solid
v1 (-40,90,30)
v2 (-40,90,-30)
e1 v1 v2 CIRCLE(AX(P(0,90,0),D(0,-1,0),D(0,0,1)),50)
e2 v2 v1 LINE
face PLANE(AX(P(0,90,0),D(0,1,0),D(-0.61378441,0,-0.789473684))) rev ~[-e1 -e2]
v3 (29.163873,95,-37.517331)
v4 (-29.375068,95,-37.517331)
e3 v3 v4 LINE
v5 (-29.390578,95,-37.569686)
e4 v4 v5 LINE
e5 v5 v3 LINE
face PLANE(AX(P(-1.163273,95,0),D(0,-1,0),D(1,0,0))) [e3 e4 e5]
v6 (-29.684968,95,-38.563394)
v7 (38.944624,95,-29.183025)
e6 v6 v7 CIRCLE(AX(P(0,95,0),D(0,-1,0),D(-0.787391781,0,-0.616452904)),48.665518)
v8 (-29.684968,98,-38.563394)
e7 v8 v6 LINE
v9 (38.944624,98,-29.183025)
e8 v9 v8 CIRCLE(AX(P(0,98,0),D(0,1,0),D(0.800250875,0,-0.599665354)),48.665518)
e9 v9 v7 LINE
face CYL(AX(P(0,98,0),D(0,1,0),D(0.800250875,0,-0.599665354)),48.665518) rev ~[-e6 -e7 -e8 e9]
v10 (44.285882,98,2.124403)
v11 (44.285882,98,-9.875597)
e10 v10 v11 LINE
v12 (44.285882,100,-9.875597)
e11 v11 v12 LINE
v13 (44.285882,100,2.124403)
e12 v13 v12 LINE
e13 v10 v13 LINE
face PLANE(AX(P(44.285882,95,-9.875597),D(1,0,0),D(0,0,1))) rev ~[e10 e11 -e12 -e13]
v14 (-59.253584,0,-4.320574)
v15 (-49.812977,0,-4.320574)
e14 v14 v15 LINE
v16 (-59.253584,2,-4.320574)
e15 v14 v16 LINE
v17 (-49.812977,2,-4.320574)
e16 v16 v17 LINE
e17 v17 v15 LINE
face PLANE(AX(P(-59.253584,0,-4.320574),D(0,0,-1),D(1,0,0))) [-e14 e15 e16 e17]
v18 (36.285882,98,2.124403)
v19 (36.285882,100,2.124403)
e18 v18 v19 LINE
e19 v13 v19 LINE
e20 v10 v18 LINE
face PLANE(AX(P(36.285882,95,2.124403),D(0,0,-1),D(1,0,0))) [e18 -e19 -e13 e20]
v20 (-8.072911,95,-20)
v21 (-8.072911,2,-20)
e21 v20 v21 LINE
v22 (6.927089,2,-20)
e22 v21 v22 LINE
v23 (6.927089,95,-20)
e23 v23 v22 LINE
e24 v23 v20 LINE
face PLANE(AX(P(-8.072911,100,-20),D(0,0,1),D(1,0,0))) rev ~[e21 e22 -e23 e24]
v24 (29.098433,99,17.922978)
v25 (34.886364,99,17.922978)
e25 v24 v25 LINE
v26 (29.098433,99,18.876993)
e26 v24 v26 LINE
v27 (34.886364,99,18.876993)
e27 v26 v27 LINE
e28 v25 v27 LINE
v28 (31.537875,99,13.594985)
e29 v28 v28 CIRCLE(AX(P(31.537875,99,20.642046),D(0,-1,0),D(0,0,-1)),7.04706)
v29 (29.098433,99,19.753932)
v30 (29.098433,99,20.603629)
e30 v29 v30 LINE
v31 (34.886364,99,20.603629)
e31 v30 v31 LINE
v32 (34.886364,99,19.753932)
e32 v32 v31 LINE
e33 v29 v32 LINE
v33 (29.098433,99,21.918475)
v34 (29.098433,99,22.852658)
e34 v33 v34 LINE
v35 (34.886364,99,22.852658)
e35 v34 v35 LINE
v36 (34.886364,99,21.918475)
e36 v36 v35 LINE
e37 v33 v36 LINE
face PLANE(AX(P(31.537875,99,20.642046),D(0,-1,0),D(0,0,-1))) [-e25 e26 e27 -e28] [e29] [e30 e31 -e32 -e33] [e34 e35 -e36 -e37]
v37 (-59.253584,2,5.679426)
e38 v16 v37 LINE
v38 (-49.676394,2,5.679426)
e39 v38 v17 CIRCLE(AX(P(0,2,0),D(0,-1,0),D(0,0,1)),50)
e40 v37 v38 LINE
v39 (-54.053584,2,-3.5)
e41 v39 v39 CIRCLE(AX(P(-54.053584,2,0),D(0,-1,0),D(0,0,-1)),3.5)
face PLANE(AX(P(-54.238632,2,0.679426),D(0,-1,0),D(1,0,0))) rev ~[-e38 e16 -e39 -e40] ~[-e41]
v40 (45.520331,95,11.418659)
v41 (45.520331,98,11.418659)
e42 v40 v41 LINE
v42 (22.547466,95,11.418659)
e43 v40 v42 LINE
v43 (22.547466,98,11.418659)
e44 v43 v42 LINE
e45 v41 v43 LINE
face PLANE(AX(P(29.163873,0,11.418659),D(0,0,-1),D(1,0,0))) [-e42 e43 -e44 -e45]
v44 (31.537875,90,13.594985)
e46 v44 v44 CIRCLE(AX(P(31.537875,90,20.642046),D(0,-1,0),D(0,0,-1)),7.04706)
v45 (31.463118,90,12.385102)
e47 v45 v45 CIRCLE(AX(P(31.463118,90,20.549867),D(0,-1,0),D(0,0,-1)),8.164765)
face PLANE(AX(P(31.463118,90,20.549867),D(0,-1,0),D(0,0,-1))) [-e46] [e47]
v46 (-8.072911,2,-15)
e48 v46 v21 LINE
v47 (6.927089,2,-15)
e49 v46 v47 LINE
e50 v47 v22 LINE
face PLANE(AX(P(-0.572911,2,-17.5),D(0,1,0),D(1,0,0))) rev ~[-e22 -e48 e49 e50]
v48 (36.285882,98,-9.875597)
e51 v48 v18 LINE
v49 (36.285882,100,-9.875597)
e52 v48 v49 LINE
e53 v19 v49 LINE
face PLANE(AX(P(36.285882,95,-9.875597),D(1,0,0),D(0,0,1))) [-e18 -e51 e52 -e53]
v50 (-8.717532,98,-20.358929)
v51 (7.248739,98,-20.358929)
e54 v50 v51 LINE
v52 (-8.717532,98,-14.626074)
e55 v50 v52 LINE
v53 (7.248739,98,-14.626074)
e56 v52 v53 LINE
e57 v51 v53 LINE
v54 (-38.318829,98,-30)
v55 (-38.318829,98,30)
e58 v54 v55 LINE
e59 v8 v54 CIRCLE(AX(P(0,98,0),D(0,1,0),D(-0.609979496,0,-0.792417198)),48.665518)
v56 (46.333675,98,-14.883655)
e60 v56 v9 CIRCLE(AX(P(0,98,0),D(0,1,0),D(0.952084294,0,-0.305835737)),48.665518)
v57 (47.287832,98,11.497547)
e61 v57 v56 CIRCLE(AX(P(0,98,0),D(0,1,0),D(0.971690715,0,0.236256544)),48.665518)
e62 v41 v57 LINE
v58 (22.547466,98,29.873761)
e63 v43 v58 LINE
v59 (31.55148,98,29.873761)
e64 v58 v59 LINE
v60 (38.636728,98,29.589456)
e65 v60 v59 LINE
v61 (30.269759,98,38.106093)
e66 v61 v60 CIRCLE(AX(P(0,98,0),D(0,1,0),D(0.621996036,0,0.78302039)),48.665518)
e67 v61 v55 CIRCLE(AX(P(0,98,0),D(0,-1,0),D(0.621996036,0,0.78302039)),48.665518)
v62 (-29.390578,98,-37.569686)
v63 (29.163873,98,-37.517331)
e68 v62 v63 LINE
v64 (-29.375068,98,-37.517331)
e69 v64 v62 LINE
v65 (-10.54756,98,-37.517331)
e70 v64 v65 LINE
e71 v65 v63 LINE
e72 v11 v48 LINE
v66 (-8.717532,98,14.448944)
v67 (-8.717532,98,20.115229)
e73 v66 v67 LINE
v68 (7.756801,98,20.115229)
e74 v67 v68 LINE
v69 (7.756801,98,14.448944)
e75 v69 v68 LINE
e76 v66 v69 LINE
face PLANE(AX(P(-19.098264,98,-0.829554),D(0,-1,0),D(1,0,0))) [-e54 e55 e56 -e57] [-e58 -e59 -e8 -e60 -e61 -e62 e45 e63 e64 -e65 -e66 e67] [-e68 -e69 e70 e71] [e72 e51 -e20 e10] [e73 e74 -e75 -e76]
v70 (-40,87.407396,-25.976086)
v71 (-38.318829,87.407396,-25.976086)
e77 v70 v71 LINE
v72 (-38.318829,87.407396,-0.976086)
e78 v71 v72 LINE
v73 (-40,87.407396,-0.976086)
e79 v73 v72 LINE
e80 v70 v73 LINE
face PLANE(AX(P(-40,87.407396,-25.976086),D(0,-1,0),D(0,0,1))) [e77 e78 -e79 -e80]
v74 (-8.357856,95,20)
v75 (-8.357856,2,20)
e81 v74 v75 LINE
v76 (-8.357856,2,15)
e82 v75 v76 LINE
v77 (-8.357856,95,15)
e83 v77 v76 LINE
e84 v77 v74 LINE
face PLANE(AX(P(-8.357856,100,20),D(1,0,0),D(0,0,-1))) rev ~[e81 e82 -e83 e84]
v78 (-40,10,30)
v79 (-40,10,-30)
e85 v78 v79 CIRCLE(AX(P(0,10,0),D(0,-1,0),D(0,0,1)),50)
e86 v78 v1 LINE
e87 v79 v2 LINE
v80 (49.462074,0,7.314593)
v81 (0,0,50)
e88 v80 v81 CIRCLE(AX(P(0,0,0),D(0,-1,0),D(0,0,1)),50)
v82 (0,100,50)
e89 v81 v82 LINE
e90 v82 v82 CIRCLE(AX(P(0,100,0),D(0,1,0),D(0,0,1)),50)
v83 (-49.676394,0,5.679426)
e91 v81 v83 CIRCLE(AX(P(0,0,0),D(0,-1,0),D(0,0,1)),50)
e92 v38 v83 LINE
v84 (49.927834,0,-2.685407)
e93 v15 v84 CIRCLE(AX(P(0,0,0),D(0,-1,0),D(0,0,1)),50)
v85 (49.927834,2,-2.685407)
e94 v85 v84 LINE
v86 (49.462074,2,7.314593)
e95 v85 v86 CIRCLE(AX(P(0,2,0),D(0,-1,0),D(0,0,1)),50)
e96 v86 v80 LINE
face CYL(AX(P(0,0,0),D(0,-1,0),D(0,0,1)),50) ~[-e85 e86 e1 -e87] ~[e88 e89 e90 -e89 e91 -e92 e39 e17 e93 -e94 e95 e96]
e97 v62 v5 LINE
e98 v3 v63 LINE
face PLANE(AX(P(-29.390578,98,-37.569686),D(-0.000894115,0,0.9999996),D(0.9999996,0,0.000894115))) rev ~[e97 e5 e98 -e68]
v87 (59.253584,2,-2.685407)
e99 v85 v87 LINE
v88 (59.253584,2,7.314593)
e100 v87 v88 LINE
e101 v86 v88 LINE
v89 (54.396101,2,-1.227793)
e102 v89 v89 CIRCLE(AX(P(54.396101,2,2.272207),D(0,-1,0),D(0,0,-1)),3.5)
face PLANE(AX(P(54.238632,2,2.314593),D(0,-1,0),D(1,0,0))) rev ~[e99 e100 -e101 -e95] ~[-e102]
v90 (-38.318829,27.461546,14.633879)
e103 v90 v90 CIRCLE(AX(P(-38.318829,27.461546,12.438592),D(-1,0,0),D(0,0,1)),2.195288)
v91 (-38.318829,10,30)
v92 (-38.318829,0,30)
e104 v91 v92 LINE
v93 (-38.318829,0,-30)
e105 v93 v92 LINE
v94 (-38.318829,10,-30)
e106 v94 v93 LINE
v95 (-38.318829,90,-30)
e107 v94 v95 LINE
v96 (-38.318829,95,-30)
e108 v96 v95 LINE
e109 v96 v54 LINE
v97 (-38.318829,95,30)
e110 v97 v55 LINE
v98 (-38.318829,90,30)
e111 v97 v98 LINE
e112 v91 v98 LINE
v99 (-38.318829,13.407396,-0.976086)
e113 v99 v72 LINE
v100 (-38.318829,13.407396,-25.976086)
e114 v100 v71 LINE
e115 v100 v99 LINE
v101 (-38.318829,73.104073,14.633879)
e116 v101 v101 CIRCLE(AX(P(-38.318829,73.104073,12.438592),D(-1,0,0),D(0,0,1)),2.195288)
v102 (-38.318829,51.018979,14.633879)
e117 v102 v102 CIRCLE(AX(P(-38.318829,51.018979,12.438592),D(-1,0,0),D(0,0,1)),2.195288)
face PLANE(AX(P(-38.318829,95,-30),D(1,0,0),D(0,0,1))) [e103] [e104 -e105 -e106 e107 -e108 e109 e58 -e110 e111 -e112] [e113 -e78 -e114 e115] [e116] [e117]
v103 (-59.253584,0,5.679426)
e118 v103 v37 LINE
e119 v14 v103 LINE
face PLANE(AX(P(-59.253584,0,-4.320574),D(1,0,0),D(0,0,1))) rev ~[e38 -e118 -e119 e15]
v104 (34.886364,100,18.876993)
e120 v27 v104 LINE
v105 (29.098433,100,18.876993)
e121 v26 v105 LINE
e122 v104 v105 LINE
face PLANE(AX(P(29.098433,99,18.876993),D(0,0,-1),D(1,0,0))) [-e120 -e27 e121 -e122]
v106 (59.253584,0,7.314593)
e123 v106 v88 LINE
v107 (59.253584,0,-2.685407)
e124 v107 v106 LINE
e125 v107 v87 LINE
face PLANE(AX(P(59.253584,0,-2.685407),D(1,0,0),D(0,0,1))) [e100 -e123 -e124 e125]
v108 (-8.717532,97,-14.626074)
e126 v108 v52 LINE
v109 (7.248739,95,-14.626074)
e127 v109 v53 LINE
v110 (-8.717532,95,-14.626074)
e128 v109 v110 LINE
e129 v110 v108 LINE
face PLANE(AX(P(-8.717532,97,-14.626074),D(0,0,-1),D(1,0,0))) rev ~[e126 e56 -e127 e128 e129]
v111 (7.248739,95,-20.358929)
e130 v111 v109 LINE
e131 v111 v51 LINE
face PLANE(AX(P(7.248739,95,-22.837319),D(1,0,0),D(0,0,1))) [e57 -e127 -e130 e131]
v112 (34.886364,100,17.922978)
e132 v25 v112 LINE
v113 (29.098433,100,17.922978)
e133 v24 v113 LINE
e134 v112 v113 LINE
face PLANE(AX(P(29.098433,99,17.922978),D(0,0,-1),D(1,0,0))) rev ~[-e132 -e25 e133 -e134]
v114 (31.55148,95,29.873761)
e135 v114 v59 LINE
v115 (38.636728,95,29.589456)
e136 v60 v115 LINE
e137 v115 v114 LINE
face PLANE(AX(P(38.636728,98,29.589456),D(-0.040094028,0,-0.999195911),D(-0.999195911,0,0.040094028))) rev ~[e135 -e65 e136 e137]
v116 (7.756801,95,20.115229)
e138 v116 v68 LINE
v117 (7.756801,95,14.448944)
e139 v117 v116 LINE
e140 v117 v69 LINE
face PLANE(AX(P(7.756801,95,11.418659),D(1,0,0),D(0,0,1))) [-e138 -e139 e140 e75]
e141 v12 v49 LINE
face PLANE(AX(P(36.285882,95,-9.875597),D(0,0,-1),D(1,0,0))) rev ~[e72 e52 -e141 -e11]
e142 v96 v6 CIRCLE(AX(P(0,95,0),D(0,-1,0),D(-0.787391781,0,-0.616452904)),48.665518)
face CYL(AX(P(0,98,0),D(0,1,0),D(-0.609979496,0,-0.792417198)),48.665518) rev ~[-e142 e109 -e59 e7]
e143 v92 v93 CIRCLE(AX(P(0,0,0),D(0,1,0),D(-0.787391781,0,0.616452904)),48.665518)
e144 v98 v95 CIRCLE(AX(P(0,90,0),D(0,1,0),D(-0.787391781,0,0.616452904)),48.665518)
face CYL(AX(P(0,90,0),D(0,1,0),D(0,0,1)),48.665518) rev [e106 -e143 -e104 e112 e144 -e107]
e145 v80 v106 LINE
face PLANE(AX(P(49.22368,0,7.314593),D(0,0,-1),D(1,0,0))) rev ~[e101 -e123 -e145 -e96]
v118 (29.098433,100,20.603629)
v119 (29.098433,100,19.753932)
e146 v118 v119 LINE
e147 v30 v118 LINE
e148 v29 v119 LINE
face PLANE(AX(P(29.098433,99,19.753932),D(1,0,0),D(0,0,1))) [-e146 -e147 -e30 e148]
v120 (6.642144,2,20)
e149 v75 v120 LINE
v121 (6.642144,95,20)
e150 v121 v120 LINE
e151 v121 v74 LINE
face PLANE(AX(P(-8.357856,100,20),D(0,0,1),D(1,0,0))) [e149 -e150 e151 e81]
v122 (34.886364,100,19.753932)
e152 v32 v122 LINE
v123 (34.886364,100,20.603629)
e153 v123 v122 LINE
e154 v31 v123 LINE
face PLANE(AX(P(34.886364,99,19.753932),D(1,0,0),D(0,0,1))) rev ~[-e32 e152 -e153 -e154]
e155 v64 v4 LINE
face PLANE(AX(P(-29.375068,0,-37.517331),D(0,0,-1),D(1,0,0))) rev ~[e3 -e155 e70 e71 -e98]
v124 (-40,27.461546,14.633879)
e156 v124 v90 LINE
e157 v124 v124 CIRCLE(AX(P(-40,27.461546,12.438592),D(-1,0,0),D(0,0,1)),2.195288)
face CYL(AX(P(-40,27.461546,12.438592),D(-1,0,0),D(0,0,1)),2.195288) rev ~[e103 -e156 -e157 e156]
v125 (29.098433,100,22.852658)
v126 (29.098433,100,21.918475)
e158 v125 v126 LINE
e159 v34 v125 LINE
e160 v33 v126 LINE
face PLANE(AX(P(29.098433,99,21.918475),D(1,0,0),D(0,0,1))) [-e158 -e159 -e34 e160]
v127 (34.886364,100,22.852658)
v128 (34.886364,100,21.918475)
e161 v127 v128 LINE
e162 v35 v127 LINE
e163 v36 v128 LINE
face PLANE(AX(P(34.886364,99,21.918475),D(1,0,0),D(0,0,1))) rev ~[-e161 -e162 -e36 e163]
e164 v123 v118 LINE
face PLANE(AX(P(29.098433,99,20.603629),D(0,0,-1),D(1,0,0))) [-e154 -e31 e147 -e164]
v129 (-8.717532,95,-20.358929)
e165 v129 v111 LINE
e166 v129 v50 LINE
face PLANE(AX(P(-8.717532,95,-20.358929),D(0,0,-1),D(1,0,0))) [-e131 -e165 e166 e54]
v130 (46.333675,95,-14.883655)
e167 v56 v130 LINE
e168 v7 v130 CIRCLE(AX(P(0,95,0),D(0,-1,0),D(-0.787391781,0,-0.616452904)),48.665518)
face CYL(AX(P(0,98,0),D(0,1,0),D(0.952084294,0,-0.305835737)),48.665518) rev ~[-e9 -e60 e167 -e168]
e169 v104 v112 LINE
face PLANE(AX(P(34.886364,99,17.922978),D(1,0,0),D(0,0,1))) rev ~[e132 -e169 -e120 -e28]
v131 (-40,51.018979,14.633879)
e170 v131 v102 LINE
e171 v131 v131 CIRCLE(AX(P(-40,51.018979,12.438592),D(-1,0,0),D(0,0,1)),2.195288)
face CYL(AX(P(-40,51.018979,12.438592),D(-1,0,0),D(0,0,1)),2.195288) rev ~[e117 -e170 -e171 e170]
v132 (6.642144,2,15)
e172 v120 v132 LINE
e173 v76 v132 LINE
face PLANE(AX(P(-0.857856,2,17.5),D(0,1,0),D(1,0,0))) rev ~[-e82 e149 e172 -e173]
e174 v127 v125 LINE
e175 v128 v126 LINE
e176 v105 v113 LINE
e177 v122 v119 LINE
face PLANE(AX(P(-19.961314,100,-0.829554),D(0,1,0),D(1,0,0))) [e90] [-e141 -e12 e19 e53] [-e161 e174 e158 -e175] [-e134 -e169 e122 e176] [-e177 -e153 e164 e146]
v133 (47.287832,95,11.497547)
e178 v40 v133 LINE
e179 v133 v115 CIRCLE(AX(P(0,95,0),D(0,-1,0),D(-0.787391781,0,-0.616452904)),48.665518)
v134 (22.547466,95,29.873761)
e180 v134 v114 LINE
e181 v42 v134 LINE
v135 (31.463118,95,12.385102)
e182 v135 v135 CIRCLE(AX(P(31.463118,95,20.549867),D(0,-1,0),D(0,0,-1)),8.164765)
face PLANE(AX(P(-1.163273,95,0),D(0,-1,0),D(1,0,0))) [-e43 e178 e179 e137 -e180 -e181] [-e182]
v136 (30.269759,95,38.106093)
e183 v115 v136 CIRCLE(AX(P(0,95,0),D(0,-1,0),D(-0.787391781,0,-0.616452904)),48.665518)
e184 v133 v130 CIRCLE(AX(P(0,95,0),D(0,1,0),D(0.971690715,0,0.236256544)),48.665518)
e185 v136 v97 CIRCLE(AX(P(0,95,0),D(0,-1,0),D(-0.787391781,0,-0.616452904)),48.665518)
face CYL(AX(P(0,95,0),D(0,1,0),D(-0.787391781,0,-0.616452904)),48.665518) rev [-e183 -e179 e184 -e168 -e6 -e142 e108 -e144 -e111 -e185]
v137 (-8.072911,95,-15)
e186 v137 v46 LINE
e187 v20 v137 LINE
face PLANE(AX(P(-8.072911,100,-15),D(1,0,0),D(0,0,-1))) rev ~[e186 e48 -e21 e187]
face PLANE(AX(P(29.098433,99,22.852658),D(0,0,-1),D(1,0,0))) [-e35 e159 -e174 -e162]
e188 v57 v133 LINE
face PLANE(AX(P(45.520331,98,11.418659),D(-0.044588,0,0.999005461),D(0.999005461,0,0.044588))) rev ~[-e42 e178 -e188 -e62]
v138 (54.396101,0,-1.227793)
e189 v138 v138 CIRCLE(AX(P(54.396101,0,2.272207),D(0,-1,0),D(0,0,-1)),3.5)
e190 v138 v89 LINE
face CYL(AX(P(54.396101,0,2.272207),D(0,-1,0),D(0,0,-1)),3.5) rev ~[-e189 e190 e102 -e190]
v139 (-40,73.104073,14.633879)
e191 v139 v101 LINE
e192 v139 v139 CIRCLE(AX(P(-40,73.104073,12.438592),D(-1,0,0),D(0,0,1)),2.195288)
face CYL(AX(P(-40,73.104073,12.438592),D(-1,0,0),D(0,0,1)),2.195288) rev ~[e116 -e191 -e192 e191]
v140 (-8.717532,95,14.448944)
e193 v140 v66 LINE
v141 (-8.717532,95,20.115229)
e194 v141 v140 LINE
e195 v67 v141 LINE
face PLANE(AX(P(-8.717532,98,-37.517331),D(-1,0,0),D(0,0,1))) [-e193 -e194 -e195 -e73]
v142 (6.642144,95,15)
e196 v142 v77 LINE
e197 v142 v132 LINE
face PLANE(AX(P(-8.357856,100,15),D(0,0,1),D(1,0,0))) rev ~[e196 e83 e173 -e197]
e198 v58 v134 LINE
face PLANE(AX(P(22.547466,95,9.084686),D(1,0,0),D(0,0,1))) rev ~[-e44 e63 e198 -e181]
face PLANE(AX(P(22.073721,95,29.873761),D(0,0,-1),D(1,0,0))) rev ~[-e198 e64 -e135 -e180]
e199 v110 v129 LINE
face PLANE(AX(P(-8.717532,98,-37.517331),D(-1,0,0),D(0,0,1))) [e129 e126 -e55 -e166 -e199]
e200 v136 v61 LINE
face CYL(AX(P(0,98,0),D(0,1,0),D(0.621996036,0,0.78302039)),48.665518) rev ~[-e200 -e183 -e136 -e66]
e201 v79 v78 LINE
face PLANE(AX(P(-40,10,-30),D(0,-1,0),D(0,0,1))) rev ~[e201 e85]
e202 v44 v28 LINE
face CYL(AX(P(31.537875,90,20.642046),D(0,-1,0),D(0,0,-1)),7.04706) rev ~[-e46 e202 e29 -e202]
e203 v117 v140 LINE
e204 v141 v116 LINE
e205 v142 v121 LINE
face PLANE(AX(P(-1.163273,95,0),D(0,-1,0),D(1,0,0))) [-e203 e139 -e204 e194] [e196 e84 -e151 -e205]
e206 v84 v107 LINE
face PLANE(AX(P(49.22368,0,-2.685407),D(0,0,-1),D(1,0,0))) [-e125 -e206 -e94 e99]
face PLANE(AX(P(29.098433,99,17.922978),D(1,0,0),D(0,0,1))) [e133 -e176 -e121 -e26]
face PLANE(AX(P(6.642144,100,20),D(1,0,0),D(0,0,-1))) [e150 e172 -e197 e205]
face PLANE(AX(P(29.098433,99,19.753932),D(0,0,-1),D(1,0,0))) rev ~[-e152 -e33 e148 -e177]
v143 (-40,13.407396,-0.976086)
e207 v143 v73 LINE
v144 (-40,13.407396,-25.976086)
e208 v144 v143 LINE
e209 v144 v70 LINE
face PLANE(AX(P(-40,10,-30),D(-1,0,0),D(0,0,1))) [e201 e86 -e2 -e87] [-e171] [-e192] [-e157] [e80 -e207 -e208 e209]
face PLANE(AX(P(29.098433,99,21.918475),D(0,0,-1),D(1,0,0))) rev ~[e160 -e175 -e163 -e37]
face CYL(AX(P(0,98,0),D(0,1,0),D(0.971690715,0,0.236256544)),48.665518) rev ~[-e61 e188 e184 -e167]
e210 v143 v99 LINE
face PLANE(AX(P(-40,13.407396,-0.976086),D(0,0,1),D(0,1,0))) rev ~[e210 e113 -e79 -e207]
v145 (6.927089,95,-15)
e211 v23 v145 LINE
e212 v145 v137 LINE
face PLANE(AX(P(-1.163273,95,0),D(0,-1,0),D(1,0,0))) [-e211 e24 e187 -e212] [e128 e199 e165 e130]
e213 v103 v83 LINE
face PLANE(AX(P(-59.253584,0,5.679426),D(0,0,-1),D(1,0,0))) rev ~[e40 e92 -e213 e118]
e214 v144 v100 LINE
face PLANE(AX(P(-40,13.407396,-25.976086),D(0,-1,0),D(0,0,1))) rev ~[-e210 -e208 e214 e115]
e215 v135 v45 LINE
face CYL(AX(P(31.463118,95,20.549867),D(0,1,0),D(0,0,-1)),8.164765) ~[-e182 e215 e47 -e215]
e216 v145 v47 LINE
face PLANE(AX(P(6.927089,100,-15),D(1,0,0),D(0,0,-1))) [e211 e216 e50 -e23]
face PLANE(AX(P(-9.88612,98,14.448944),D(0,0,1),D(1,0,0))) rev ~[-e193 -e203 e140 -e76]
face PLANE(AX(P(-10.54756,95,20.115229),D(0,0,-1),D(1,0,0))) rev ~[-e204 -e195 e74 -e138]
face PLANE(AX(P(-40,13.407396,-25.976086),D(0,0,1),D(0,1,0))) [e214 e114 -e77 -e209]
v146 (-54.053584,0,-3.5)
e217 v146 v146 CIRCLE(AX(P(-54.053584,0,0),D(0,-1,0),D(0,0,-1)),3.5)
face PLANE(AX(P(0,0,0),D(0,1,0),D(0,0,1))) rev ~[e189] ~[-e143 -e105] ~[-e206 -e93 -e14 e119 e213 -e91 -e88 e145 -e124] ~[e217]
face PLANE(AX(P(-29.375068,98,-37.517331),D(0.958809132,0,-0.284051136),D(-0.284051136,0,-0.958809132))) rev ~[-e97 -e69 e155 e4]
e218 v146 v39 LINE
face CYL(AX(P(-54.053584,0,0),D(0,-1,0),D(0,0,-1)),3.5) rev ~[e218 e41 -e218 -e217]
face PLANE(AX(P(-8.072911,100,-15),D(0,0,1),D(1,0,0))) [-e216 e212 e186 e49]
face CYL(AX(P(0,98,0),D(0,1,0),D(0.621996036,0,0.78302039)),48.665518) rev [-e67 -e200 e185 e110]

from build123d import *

# Parameters (mm, degrees)
SKETCH2_R            = 50
BOSS_EXTRUDE1_DEPTH  = 100
SKETCH3_W            = 60
SKETCH3_H            = 80
CUT_EXTRUDE1_DEPTH   = 60
SKETCH4_W            = 60
SKETCH4_H            = 79.669831605
BOSS_EXTRUDE3_DEPTH  = 40
SKETCH5_R            = 38
CUT_EXTRUDE2_DEPTH   = 90
SKETCH8_W            = 60
SKETCH8_H            = 79.669831605
CUT_EXTRUDE7_DEPTH   = 50
SKETCH10_R           = 48.665518172
CUT_EXTRUDE9_DEPTH   = 100
SKETCH11_W           = 1.681170961
SKETCH11_H           = 60
BOSS_EXTRUDE5_DEPTH  = 80
SKETCH13_W           = 1.681170961
SKETCH13_H           = 60
BOSS_EXTRUDE7_DEPTH  = 10
BOSS_EXTRUDE8_DEPTH  = 10
CUT_EXTRUDE10_START  = -5
CUT_EXTRUDE10_DEPTH  = 5
SKETCH19_R           = 8.164764715
BOSS_EXTRUDE10_DEPTH = 5
SKETCH20_R           = 7.047060341
CUT_EXTRUDE11_DEPTH  = 9
SKETCH21_W           = 5.787931414
SKETCH21_H           = 0.934183286
SKETCH21_H_2         = 0.954014791
SKETCH21_H_3         = 0.849697664
CUT_EXTRUDE12_DEPTH  = 9
SKETCH23_R           = 2.195287673
SKETCH23_W           = 25
SKETCH23_H           = 74
CUT_EXTRUDE13_DEPTH  = 9
SKETCH24_W           = 15
SKETCH24_H           = 5
BOSS_EXTRUDE11_DEPTH = 98
SKETCH25_W           = 18.827507882
SKETCH25_H           = 73.375554396
CUT_EXTRUDE14_DEPTH  = 98
SKETCH26_W           = 18.827507882
SKETCH26_H           = 73.375554396
BOSS_EXTRUDE12_DEPTH = 1
SKETCH27_W           = 10.029903479
SKETCH27_H           = 10
BOSS_EXTRUDE13_DEPTH = 2
SKETCH28_R           = 3.5
CUT_EXTRUDE15_DEPTH  = 2
SKETCH29_W           = 58.538941248
SKETCH29_H           = 14.680012791
CUT_EXTRUDE16_DEPTH  = 98
SKETCH30_W           = 20.214113165
SKETCH30_H           = 34.255978035
CUT_EXTRUDE17_DEPTH  = 98
SKETCH33_W           = 8
SKETCH33_H           = 12
CUT_EXTRUDE19_DEPTH  = 98
SKETCH34_W           = 16.356457981
SKETCH34_H           = 26.077749045
CUT_EXTRUDE20_DEPTH  = 98
SKETCH35_W           = 19.445222932
SKETCH35_H           = 19.770916388
CUT_EXTRUDE21_DEPTH  = 10
SKETCH36_W           = 19.989215452
SKETCH36_H           = 72.827965385
CUT_EXTRUDE24_DEPTH  = 10
SKETCH37_W           = 31.787676572
SKETCH37_H           = 10.342401947
CUT_EXTRUDE26_DEPTH  = 10
SKETCH38_W           = 20.901341983
SKETCH38_H           = 4.203034319
SKETCH38_H_2         = 3.820046546
SKETCH38_W_2         = 30.533824488
SKETCH38_H_3         = 14.057901902
CUT_EXTRUDE32_DEPTH  = 2
SKETCH39_W           = 30.533824488
SKETCH39_H           = 14.057901902
CUT_EXTRUDE33_DEPTH  = 1
SKETCH40_W           = 20.553607572
SKETCH40_H           = 73.375554396
BOSS_EXTRUDE14_DEPTH = 1
SKETCH41_W           = 32.621281634
SKETCH41_H           = 15.74299434
CUT_EXTRUDE34_DEPTH  = 3
SKETCH42_W           = 14.144755604
SKETCH42_H           = 8.69656923
CUT_EXTRUDE35_DEPTH  = 3
SKETCH43_W           = 59.644827438
SKETCH43_H           = 2.247870114
CUT_EXTRUDE36_DEPTH  = 3
SKETCH44_W           = 17.667291541
SKETCH44_H           = 3.320818604
SKETCH44_W_2         = 14.753104975
SKETCH44_H_2         = 11.677562162
CUT_EXTRUDE38_DEPTH  = 3
SKETCH46_W           = 17.667291541
SKETCH46_H           = 3.320818604
CUT_EXTRUDE40_DEPTH  = 1
SKETCH47_W           = 1.701021163
SKETCH47_H           = 8.211244537
CUT_EXTRUDE41_DEPTH  = 3
SKETCH48_W           = 15.966270378
SKETCH48_H           = 2.478389594
CUT_EXTRUDE42_DEPTH  = 3
SKETCH49_W           = 10.473630753
SKETCH49_H           = 60
CUT_EXTRUDE43_DEPTH  = 3
CUT_EXTRUDE44_DEPTH  = 3
SKETCH51_W           = 3.315159192
SKETCH51_H           = 22.138520704
CUT_EXTRUDE45_DEPTH  = 3
CUT_EXTRUDE52_START  = -3
CUT_EXTRUDE52_DEPTH  = 3
CUT_EXTRUDE57_START  = -3
CUT_EXTRUDE57_DEPTH  = 3
CUT_EXTRUDE58_START  = -3
CUT_EXTRUDE58_DEPTH  = 3
CUT_EXTRUDE59_START  = -3
CUT_EXTRUDE59_DEPTH  = 3
CUT_EXTRUDE60_START  = -3
CUT_EXTRUDE60_DEPTH  = 3
SKETCH59_W           = 11.723658734
SKETCH59_H           = 19.471980535
CUT_EXTRUDE63_DEPTH  = 1
SKETCH60_W           = 11.417157191
SKETCH60_H           = 17.445400415
CUT_EXTRUDE65_DEPTH  = 3
CUT_EXTRUDE66_START  = -3
CUT_EXTRUDE66_DEPTH  = 3


with BuildPart() as part:
    # Sketch2 → Boss-Extrude1 (new body)
    with BuildSketch(Plane(origin=(0, 0, 0), x_dir=(1, 0, 0), z_dir=(0, 1, 0))):
        with Locations(Location((0, 0, 0), (0, 0, 270))):
            Circle(SKETCH2_R)
    extrude(amount=BOSS_EXTRUDE1_DEPTH)

    # Sketch3 → Cut-Extrude1 (cut)
    with BuildSketch(Plane(origin=(0, 0, 0), x_dir=(0, 0, -1), z_dir=(1, 0, 0))):
        with Locations((0, 50)):
            Rectangle(SKETCH3_W, SKETCH3_H)
    extrude(amount=-CUT_EXTRUDE1_DEPTH, mode=Mode.SUBTRACT)

    # Sketch4 → Boss-Extrude3 (add)
    with BuildSketch(Plane.ZY):
        with Locations((0, 49.834915802)):
            Rectangle(SKETCH4_W, SKETCH4_H)
    extrude(amount=BOSS_EXTRUDE3_DEPTH)

    # Sketch5 → Cut-Extrude2 (cut)
    with BuildSketch(Plane(origin=(0, 0, 0), x_dir=(1, 0, 0), z_dir=(0, 1, 0))):
        with Locations(Location((0, 0, 0), (0, 0, 127.863646362))):
            Circle(SKETCH5_R)
    extrude(amount=CUT_EXTRUDE2_DEPTH, mode=Mode.SUBTRACT)

    # Sketch8 → Cut-Extrude7 (cut)
    with BuildSketch(Plane.ZY.offset(40)):
        with Locations((0, 49.834915802)):
            Rectangle(SKETCH8_W, SKETCH8_H)
    extrude(amount=-CUT_EXTRUDE7_DEPTH, mode=Mode.SUBTRACT)

    # Sketch10 → Cut-Extrude9 (cut)
    with BuildSketch(Plane(origin=(0, 90, 0), x_dir=(-1, 0, 0), z_dir=(0, -1, 0))):
        with Locations(Location((0, 0, 0), (0, 0, 270))):
            Circle(SKETCH10_R)
    extrude(amount=CUT_EXTRUDE9_DEPTH, mode=Mode.SUBTRACT)

    # Sketch11 → Boss-Extrude5 (add)
    with BuildSketch(Plane.XZ.offset(-90)):
        with Locations((-39.15941452, 0)):
            Rectangle(SKETCH11_W, SKETCH11_H)
    extrude(amount=BOSS_EXTRUDE5_DEPTH)

    # Sketch13 → Boss-Extrude7 (add)
    with BuildSketch(Plane.XZ.offset(-10)):
        with Locations((-39.15941452, 0)):
            Rectangle(SKETCH13_W, SKETCH13_H)
    extrude(amount=BOSS_EXTRUDE7_DEPTH)

    # Sketch16 → Boss-Extrude8 (add)
    with BuildSketch(Plane.XZ):
        with BuildLine():
            Line((-39.280045299, -29.075196623), (-39.280045299, 29.238392007))
            ThreePointArc((-39.280045299, 29.238392007), (-49.347436006, 0.081597692), (-39.280045299, -29.075196623))
        make_face()
    extrude(amount=-BOSS_EXTRUDE8_DEPTH)

    # Sketch17 → Cut-Extrude10 (cut)
    with BuildSketch(Plane.XZ.offset(-90).offset(CUT_EXTRUDE10_START)):
        with BuildLine():
            Line((-38.318829039, 30), (-38.318829039, -30))
            ThreePointArc((-38.318829039, -30), (48.665518172, 0), (-38.318829039, 30))
        make_face()
    extrude(amount=CUT_EXTRUDE10_DEPTH, mode=Mode.SUBTRACT)

    # Sketch19 → Boss-Extrude10 (add)
    with BuildSketch(Plane(origin=(0, 95, 0), x_dir=(-1, 0, 0), z_dir=(0, -1, 0))):
        with Locations(Location((-31.46311806, -20.549866857, 0), (0, 0, 90))):
            Circle(SKETCH19_R)
    extrude(amount=BOSS_EXTRUDE10_DEPTH)

    # Sketch20 → Cut-Extrude11 (cut)
    with BuildSketch(Plane(origin=(0, 90, 0), x_dir=(-1, 0, 0), z_dir=(0, -1, 0))):
        with Locations(Location((-31.537874796, -20.642045838, 0), (0, 0, 90))):
            Circle(SKETCH20_R)
    extrude(amount=-CUT_EXTRUDE11_DEPTH, mode=Mode.SUBTRACT)

    # Sketch21 → Cut-Extrude12 (cut)
    with BuildSketch(Plane.XZ.offset(-99)):
        with Locations((31.992398498, 22.385566745)):
            Rectangle(SKETCH21_W, SKETCH21_H)
        with Locations((31.992398498, 18.399985322)):
            Rectangle(SKETCH21_W, SKETCH21_H_2)
        with Locations((31.992398498, 20.17878045)):
            Rectangle(SKETCH21_W, SKETCH21_H_3)
    extrude(amount=-CUT_EXTRUDE12_DEPTH, mode=Mode.SUBTRACT)

    # Sketch23 → Cut-Extrude13 (cut)
    with BuildSketch(Plane.ZY.offset(40)):
        with Locations((12.438591757, 73.104072914)):
            Circle(SKETCH23_R)
        with Locations((12.438591757, 51.018979374)):
            Circle(SKETCH23_R)
        with Locations((12.438591757, 27.461546264)):
            Circle(SKETCH23_R)
        with Locations((-13.476086098, 50.407395829)):
            Rectangle(SKETCH23_W, SKETCH23_H)
    extrude(amount=-CUT_EXTRUDE13_DEPTH, mode=Mode.SUBTRACT)

    # Sketch24 → Boss-Extrude11 (add)
    with BuildSketch(Plane(origin=(0, 100, 0), x_dir=(1, 0, 0), z_dir=(0, 1, 0))):
        with Locations((-0.85785595, -17.5)):
            Rectangle(SKETCH24_W, SKETCH24_H)
        with Locations((-0.572910756, 17.5)):
            Rectangle(SKETCH24_W, SKETCH24_H)
    extrude(amount=-BOSS_EXTRUDE11_DEPTH)

    # Sketch25 → Cut-Extrude14 (cut)
    with BuildSketch(Plane(origin=(0, 100, 0), x_dir=(1, 0, 0), z_dir=(0, 1, 0))):
        with Locations((-19.961314115, 0.829554283)):
            Rectangle(SKETCH25_W, SKETCH25_H)
    extrude(amount=-CUT_EXTRUDE14_DEPTH, mode=Mode.SUBTRACT)

    # Sketch26 → Boss-Extrude12 (add)
    with BuildSketch(Plane(origin=(0, 100, 0), x_dir=(1, 0, 0), z_dir=(0, 1, 0))):
        with Locations((-19.961314115, 0.829554283)):
            Rectangle(SKETCH26_W, SKETCH26_H)
    extrude(amount=-BOSS_EXTRUDE12_DEPTH)

    # Sketch27 → Boss-Extrude13 (add)
    with BuildSketch(Plane.XZ):
        with Locations((54.238631889, 2.31459311)):
            Rectangle(SKETCH27_W, SKETCH27_H)
        with Locations((-54.238631889, 0.679426194)):
            Rectangle(SKETCH27_W, SKETCH27_H)
    extrude(amount=-BOSS_EXTRUDE13_DEPTH)

    # Sketch28 → Cut-Extrude15 (cut)
    with BuildSketch(Plane.XZ):
        with Locations(Location((-54.053583629, 0, 0), (0, 0, 270))):
            Circle(SKETCH28_R)
        with Locations(Location((54.396100908, 2.272206882, 0), (0, 0, 270))):
            Circle(SKETCH28_R)
    extrude(amount=-CUT_EXTRUDE15_DEPTH, mode=Mode.SUBTRACT)

    # Sketch29 → Cut-Extrude16 (cut)
    with BuildSketch(Plane.XZ):
        with Locations((-0.105597432, -30.177325086)):
            Rectangle(SKETCH29_W, SKETCH29_H)
    extrude(amount=-CUT_EXTRUDE16_DEPTH, mode=Mode.SUBTRACT)

    # Sketch30 → Cut-Extrude17 (cut)
    with BuildSketch(Plane.XZ):
        with Locations((19.05681661, -5.709329673)):
            Rectangle(SKETCH30_W, SKETCH30_H)
    extrude(amount=-CUT_EXTRUDE17_DEPTH, mode=Mode.SUBTRACT)

    # Sketch33 → Cut-Extrude19 (cut)
    with BuildSketch(Plane.XZ.offset(-95)):
        with Locations((40.285881514, -3.875597271)):
            Rectangle(SKETCH33_W, SKETCH33_H)
    extrude(amount=-CUT_EXTRUDE19_DEPTH, mode=Mode.SUBTRACT)

    # Sketch34 → Cut-Extrude20 (cut)
    with BuildSketch(Plane.XZ):
        with Locations((37.342102182, -1.620215178)):
            Rectangle(SKETCH34_W, SKETCH34_H)
    extrude(amount=-CUT_EXTRUDE20_DEPTH, mode=Mode.SUBTRACT)

    # Sketch35 → Cut-Extrude21 (cut)
    with BuildSketch(Plane.XZ.offset(-98)):
        with Locations((-0.772851439, -1.419797355)):
            Rectangle(SKETCH35_W, SKETCH35_H)
    extrude(amount=CUT_EXTRUDE21_DEPTH, mode=Mode.SUBTRACT)

    # Sketch36 → Cut-Extrude24 (cut)
    with BuildSketch(Plane.XZ.offset(-98)):
        with Locations((-18.71213924, -1.103348788)):
            Rectangle(SKETCH36_W, SKETCH36_H)
    extrude(amount=CUT_EXTRUDE24_DEPTH, mode=Mode.SUBTRACT)

    # Sketch37 → Cut-Extrude26 (cut)
    with BuildSketch(Plane.XZ.offset(-98)):
        with Locations((6.007718778, 9.277742922)):
            Rectangle(SKETCH37_W, SKETCH37_H)
    extrude(amount=CUT_EXTRUDE26_DEPTH, mode=Mode.SUBTRACT)

    # Sketch38 → Cut-Extrude32 (cut)
    with BuildSketch(Plane(origin=(0, 95, 0), x_dir=(-1, 0, 0), z_dir=(0, -1, 0))):
        with Locations((-0.612367359, 12.524556994)):
            Rectangle(SKETCH38_W, SKETCH38_H)
        with Locations((-0.612367359, 23.030255384)):
            Rectangle(SKETCH38_W, SKETCH38_H_2)
        with Locations((-6.54938073, -28.281682953)):
            Rectangle(SKETCH38_W_2, SKETCH38_H_3)
    extrude(amount=-CUT_EXTRUDE32_DEPTH, mode=Mode.SUBTRACT)

    # Sketch39 → Cut-Extrude33 (cut)
    with BuildSketch(Plane.XZ.offset(-97)):
        with Locations((6.54938073, 28.281682953)):
            Rectangle(SKETCH39_W, SKETCH39_H)
    extrude(amount=-CUT_EXTRUDE33_DEPTH, mode=Mode.SUBTRACT)

    # Sketch40 → Boss-Extrude14 (add)
    with BuildSketch(Plane.XZ.offset(-99)):
        with Locations((-19.09826427, -0.829554283)):
            Rectangle(SKETCH40_W, SKETCH40_H)
    extrude(amount=BOSS_EXTRUDE14_DEPTH)

    # Sketch41 → Cut-Extrude34 (cut)
    with BuildSketch(Plane.XZ.offset(-95)):
        with Locations((5.763080643, 27.986725745)):
            Rectangle(SKETCH41_W, SKETCH41_H)
    extrude(amount=-CUT_EXTRUDE34_DEPTH, mode=Mode.SUBTRACT)

    # Sketch42 → Cut-Extrude35 (cut)
    with BuildSketch(Plane.XZ.offset(-95)):
        with Locations((14.829179262, 15.76694396)):
            Rectangle(SKETCH42_W, SKETCH42_H)
    extrude(amount=-CUT_EXTRUDE35_DEPTH, mode=Mode.SUBTRACT)

    # Sketch43 → Cut-Extrude36 (cut)
    with BuildSketch(Plane.XZ.offset(-95)):
        with Locations((0.447345663, 36.982157972)):
            Rectangle(SKETCH43_W, SKETCH43_H)
    extrude(amount=-CUT_EXTRUDE36_DEPTH, mode=Mode.SUBTRACT)

    # Sketch44 → Cut-Extrude38 (cut)
    with BuildSketch(Plane.XZ.offset(-97)):
        with Locations((0.116114256, -12.965664851)):
            Rectangle(SKETCH44_W, SKETCH44_H)
        with Locations((31.548416401, -18.552621957)):
            Rectangle(SKETCH44_W_2, SKETCH44_H_2)
    extrude(amount=CUT_EXTRUDE38_DEPTH, mode=Mode.SUBTRACT)

    # Sketch46 → Cut-Extrude40 (cut)
    with BuildSketch(Plane.XZ.offset(-97)):
        with Locations((0.116114256, -12.965664851)):
            Rectangle(SKETCH46_W, SKETCH46_H)
    extrude(amount=-CUT_EXTRUDE40_DEPTH, mode=Mode.SUBTRACT)

    # Sketch47 → Cut-Extrude41 (cut)
    with BuildSketch(Plane.XZ.offset(-95)):
        with Locations((8.099249445, -18.731696422)):
            Rectangle(SKETCH47_W, SKETCH47_H)
    extrude(amount=-CUT_EXTRUDE41_DEPTH, mode=Mode.SUBTRACT)

    # Sketch48 → Cut-Extrude42 (cut)
    with BuildSketch(Plane.XZ.offset(-95)):
        with Locations((-0.734396325, -21.598123893)):
            Rectangle(SKETCH48_W, SKETCH48_H)
    extrude(amount=-CUT_EXTRUDE42_DEPTH, mode=Mode.SUBTRACT)

    # Sketch49 → Cut-Extrude43 (cut)
    with BuildSketch(Plane.XZ.offset(-95)):
        with Locations((-33.082013663, 0)):
            Rectangle(SKETCH49_W, SKETCH49_H)
    extrude(amount=-CUT_EXTRUDE43_DEPTH, mode=Mode.SUBTRACT)

    # Sketch50 → Cut-Extrude44 (cut)
    with BuildSketch(Plane.XZ.offset(-95)):
        Polygon((22.07372146, 20.115228575), (22.07372146, 29.87376114), (21.033576275, 29.87376114), (21.033576275, 10.941534653), (22.07372146, 10.941534653), (22.07372146, 11.418659345), (21.901557064, 11.418659345), (21.901557064, 20.115228575), align=None)
        Polygon((30.269759382, 35.858222915), (22.07372146, 35.858222915), (22.07372146, 29.87376114), (31.551479878, 29.87376114), (31.551479878, 35.858222915), align=None)
    extrude(amount=-CUT_EXTRUDE44_DEPTH, mode=Mode.SUBTRACT)

    # Sketch51 → Cut-Extrude45 (cut)
    with BuildSketch(Plane.XZ.offset(-95)):
        with Locations((20.889886083, 20.153945891)):
            Rectangle(SKETCH51_W, SKETCH51_H)
    extrude(amount=-CUT_EXTRUDE45_DEPTH, mode=Mode.SUBTRACT)

    # Sketch53 → Cut-Extrude52 (cut)
    with BuildSketch(Plane.XZ.offset(-95).offset(CUT_EXTRUDE52_START)):
        with BuildLine():
            Line((-38.318829039, -30), (-29.375068056, -30))
            Line((-29.375068056, -30), (-29.375068056, -37.517331481))
            Line((-29.375068056, -37.517331481), (-29.684968226, -38.563393528))
            ThreePointArc((-29.684968226, -38.563393528), (-34.270425118, -34.552432927), (-38.318829039, -30))
        make_face()
    extrude(amount=CUT_EXTRUDE52_DEPTH, mode=Mode.SUBTRACT)

    # Sketch55 → Cut-Extrude57 (cut)
    with BuildSketch(Plane(origin=(0, 95, 0), x_dir=(-1, 0, 0), z_dir=(0, -1, 0)).offset(CUT_EXTRUDE57_START)):
        with BuildLine():
            Line((38.318829039, -30), (29.375068056, -30))
            Line((29.375068056, -30), (29.375068056, -38.106093029))
            Line((29.375068056, -38.106093029), (-30.269759382, -38.106093029))
            ThreePointArc((-30.269759382, -38.106093029), (5.711748124, -48.329169166), (38.318829039, -30))
        make_face()
    extrude(amount=CUT_EXTRUDE57_DEPTH, mode=Mode.SUBTRACT)

    # Sketch56 → Cut-Extrude58 (cut)
    with BuildSketch(Plane(origin=(0, 95, 0), x_dir=(-1, 0, 0), z_dir=(0, -1, 0)).offset(CUT_EXTRUDE58_START)):
        with BuildLine():
            Line((-38.636727711, -29.589456411), (-31.551479878, -29.87376114))
            Line((-31.551479878, -29.87376114), (-31.551479878, -35.858222915))
            Line((-31.551479878, -35.858222915), (-30.269759382, -35.858222915))
            Line((-30.269759382, -35.858222915), (-30.269759382, -38.106093029))
            ThreePointArc((-30.269759382, -38.106093029), (-34.715403867, -34.105327931), (-38.636727711, -29.589456411))
        make_face()
    extrude(amount=CUT_EXTRUDE58_DEPTH, mode=Mode.SUBTRACT)

    # Sketch57 → Cut-Extrude59 (cut)
    with BuildSketch(Plane(origin=(0, 95, 0), x_dir=(-1, 0, 0), z_dir=(0, -1, 0)).offset(CUT_EXTRUDE59_START)):
        with BuildLine():
            Line((-46.333675493, 14.8836546), (-45.520331173, 14.6590897))
            Line((-45.520331173, 14.6590897), (-45.520331173, -11.418659345))
            Line((-45.520331173, -11.418659345), (-47.287832143, -11.497547136))
            ThreePointArc((-47.287832143, -11.497547136), (-48.633719005, 1.75898683), (-46.333675493, 14.8836546))
        make_face()
    extrude(amount=CUT_EXTRUDE59_DEPTH, mode=Mode.SUBTRACT)

    # Sketch58 → Cut-Extrude60 (cut)
    with BuildSketch(Plane(origin=(0, 95, 0), x_dir=(-1, 0, 0), z_dir=(0, -1, 0)).offset(CUT_EXTRUDE60_START)):
        with BuildLine():
            Line((-38.944623515, 29.183025172), (-38.924968888, 14.6590897))
            Line((-38.924968888, 14.6590897), (-45.520331173, 14.6590897))
            Line((-45.520331173, 14.6590897), (-46.333675493, 14.8836546))
            ThreePointArc((-46.333675493, 14.8836546), (-43.23441997, 22.340939748), (-38.944623515, 29.183025172))
        make_face()
    extrude(amount=CUT_EXTRUDE60_DEPTH, mode=Mode.SUBTRACT)

    # Sketch59 → Cut-Extrude63 (cut)
    with BuildSketch(Plane.XZ.offset(-97)):
        with Locations((34.249956279, -16.696142801)):
            Rectangle(SKETCH59_W, SKETCH59_H)
    extrude(amount=-CUT_EXTRUDE63_DEPTH, mode=Mode.SUBTRACT)

    # Sketch60 → Cut-Extrude65 (cut)
    with BuildSketch(Plane.XZ.offset(-95)):
        with Locations((33.23604492, -20.460324964)):
            Rectangle(SKETCH60_W, SKETCH60_H)
    extrude(amount=-CUT_EXTRUDE65_DEPTH, mode=Mode.SUBTRACT)

    # Sketch61 → Cut-Extrude66 (cut)
    with BuildSketch(Plane(origin=(0, 95, 0), x_dir=(-1, 0, 0), z_dir=(0, -1, 0)).offset(CUT_EXTRUDE66_START)):
        with BuildLine():
            Line((29.684968226, 38.563393528), (29.390578265, 37.569685893))
            Line((29.390578265, 37.569685893), (-29.163873192, 37.517331481))
            Line((-29.163873192, 37.517331481), (-29.163873192, 29.183025172))
            Line((-29.163873192, 29.183025172), (-38.944623515, 29.183025172))
            ThreePointArc((-38.944623515, 29.183025172), (-6.590381752, 48.21721194), (29.684968226, 38.563393528))
        make_face()
    extrude(amount=CUT_EXTRUDE66_DEPTH, mode=Mode.SUBTRACT)


solid = part.part
